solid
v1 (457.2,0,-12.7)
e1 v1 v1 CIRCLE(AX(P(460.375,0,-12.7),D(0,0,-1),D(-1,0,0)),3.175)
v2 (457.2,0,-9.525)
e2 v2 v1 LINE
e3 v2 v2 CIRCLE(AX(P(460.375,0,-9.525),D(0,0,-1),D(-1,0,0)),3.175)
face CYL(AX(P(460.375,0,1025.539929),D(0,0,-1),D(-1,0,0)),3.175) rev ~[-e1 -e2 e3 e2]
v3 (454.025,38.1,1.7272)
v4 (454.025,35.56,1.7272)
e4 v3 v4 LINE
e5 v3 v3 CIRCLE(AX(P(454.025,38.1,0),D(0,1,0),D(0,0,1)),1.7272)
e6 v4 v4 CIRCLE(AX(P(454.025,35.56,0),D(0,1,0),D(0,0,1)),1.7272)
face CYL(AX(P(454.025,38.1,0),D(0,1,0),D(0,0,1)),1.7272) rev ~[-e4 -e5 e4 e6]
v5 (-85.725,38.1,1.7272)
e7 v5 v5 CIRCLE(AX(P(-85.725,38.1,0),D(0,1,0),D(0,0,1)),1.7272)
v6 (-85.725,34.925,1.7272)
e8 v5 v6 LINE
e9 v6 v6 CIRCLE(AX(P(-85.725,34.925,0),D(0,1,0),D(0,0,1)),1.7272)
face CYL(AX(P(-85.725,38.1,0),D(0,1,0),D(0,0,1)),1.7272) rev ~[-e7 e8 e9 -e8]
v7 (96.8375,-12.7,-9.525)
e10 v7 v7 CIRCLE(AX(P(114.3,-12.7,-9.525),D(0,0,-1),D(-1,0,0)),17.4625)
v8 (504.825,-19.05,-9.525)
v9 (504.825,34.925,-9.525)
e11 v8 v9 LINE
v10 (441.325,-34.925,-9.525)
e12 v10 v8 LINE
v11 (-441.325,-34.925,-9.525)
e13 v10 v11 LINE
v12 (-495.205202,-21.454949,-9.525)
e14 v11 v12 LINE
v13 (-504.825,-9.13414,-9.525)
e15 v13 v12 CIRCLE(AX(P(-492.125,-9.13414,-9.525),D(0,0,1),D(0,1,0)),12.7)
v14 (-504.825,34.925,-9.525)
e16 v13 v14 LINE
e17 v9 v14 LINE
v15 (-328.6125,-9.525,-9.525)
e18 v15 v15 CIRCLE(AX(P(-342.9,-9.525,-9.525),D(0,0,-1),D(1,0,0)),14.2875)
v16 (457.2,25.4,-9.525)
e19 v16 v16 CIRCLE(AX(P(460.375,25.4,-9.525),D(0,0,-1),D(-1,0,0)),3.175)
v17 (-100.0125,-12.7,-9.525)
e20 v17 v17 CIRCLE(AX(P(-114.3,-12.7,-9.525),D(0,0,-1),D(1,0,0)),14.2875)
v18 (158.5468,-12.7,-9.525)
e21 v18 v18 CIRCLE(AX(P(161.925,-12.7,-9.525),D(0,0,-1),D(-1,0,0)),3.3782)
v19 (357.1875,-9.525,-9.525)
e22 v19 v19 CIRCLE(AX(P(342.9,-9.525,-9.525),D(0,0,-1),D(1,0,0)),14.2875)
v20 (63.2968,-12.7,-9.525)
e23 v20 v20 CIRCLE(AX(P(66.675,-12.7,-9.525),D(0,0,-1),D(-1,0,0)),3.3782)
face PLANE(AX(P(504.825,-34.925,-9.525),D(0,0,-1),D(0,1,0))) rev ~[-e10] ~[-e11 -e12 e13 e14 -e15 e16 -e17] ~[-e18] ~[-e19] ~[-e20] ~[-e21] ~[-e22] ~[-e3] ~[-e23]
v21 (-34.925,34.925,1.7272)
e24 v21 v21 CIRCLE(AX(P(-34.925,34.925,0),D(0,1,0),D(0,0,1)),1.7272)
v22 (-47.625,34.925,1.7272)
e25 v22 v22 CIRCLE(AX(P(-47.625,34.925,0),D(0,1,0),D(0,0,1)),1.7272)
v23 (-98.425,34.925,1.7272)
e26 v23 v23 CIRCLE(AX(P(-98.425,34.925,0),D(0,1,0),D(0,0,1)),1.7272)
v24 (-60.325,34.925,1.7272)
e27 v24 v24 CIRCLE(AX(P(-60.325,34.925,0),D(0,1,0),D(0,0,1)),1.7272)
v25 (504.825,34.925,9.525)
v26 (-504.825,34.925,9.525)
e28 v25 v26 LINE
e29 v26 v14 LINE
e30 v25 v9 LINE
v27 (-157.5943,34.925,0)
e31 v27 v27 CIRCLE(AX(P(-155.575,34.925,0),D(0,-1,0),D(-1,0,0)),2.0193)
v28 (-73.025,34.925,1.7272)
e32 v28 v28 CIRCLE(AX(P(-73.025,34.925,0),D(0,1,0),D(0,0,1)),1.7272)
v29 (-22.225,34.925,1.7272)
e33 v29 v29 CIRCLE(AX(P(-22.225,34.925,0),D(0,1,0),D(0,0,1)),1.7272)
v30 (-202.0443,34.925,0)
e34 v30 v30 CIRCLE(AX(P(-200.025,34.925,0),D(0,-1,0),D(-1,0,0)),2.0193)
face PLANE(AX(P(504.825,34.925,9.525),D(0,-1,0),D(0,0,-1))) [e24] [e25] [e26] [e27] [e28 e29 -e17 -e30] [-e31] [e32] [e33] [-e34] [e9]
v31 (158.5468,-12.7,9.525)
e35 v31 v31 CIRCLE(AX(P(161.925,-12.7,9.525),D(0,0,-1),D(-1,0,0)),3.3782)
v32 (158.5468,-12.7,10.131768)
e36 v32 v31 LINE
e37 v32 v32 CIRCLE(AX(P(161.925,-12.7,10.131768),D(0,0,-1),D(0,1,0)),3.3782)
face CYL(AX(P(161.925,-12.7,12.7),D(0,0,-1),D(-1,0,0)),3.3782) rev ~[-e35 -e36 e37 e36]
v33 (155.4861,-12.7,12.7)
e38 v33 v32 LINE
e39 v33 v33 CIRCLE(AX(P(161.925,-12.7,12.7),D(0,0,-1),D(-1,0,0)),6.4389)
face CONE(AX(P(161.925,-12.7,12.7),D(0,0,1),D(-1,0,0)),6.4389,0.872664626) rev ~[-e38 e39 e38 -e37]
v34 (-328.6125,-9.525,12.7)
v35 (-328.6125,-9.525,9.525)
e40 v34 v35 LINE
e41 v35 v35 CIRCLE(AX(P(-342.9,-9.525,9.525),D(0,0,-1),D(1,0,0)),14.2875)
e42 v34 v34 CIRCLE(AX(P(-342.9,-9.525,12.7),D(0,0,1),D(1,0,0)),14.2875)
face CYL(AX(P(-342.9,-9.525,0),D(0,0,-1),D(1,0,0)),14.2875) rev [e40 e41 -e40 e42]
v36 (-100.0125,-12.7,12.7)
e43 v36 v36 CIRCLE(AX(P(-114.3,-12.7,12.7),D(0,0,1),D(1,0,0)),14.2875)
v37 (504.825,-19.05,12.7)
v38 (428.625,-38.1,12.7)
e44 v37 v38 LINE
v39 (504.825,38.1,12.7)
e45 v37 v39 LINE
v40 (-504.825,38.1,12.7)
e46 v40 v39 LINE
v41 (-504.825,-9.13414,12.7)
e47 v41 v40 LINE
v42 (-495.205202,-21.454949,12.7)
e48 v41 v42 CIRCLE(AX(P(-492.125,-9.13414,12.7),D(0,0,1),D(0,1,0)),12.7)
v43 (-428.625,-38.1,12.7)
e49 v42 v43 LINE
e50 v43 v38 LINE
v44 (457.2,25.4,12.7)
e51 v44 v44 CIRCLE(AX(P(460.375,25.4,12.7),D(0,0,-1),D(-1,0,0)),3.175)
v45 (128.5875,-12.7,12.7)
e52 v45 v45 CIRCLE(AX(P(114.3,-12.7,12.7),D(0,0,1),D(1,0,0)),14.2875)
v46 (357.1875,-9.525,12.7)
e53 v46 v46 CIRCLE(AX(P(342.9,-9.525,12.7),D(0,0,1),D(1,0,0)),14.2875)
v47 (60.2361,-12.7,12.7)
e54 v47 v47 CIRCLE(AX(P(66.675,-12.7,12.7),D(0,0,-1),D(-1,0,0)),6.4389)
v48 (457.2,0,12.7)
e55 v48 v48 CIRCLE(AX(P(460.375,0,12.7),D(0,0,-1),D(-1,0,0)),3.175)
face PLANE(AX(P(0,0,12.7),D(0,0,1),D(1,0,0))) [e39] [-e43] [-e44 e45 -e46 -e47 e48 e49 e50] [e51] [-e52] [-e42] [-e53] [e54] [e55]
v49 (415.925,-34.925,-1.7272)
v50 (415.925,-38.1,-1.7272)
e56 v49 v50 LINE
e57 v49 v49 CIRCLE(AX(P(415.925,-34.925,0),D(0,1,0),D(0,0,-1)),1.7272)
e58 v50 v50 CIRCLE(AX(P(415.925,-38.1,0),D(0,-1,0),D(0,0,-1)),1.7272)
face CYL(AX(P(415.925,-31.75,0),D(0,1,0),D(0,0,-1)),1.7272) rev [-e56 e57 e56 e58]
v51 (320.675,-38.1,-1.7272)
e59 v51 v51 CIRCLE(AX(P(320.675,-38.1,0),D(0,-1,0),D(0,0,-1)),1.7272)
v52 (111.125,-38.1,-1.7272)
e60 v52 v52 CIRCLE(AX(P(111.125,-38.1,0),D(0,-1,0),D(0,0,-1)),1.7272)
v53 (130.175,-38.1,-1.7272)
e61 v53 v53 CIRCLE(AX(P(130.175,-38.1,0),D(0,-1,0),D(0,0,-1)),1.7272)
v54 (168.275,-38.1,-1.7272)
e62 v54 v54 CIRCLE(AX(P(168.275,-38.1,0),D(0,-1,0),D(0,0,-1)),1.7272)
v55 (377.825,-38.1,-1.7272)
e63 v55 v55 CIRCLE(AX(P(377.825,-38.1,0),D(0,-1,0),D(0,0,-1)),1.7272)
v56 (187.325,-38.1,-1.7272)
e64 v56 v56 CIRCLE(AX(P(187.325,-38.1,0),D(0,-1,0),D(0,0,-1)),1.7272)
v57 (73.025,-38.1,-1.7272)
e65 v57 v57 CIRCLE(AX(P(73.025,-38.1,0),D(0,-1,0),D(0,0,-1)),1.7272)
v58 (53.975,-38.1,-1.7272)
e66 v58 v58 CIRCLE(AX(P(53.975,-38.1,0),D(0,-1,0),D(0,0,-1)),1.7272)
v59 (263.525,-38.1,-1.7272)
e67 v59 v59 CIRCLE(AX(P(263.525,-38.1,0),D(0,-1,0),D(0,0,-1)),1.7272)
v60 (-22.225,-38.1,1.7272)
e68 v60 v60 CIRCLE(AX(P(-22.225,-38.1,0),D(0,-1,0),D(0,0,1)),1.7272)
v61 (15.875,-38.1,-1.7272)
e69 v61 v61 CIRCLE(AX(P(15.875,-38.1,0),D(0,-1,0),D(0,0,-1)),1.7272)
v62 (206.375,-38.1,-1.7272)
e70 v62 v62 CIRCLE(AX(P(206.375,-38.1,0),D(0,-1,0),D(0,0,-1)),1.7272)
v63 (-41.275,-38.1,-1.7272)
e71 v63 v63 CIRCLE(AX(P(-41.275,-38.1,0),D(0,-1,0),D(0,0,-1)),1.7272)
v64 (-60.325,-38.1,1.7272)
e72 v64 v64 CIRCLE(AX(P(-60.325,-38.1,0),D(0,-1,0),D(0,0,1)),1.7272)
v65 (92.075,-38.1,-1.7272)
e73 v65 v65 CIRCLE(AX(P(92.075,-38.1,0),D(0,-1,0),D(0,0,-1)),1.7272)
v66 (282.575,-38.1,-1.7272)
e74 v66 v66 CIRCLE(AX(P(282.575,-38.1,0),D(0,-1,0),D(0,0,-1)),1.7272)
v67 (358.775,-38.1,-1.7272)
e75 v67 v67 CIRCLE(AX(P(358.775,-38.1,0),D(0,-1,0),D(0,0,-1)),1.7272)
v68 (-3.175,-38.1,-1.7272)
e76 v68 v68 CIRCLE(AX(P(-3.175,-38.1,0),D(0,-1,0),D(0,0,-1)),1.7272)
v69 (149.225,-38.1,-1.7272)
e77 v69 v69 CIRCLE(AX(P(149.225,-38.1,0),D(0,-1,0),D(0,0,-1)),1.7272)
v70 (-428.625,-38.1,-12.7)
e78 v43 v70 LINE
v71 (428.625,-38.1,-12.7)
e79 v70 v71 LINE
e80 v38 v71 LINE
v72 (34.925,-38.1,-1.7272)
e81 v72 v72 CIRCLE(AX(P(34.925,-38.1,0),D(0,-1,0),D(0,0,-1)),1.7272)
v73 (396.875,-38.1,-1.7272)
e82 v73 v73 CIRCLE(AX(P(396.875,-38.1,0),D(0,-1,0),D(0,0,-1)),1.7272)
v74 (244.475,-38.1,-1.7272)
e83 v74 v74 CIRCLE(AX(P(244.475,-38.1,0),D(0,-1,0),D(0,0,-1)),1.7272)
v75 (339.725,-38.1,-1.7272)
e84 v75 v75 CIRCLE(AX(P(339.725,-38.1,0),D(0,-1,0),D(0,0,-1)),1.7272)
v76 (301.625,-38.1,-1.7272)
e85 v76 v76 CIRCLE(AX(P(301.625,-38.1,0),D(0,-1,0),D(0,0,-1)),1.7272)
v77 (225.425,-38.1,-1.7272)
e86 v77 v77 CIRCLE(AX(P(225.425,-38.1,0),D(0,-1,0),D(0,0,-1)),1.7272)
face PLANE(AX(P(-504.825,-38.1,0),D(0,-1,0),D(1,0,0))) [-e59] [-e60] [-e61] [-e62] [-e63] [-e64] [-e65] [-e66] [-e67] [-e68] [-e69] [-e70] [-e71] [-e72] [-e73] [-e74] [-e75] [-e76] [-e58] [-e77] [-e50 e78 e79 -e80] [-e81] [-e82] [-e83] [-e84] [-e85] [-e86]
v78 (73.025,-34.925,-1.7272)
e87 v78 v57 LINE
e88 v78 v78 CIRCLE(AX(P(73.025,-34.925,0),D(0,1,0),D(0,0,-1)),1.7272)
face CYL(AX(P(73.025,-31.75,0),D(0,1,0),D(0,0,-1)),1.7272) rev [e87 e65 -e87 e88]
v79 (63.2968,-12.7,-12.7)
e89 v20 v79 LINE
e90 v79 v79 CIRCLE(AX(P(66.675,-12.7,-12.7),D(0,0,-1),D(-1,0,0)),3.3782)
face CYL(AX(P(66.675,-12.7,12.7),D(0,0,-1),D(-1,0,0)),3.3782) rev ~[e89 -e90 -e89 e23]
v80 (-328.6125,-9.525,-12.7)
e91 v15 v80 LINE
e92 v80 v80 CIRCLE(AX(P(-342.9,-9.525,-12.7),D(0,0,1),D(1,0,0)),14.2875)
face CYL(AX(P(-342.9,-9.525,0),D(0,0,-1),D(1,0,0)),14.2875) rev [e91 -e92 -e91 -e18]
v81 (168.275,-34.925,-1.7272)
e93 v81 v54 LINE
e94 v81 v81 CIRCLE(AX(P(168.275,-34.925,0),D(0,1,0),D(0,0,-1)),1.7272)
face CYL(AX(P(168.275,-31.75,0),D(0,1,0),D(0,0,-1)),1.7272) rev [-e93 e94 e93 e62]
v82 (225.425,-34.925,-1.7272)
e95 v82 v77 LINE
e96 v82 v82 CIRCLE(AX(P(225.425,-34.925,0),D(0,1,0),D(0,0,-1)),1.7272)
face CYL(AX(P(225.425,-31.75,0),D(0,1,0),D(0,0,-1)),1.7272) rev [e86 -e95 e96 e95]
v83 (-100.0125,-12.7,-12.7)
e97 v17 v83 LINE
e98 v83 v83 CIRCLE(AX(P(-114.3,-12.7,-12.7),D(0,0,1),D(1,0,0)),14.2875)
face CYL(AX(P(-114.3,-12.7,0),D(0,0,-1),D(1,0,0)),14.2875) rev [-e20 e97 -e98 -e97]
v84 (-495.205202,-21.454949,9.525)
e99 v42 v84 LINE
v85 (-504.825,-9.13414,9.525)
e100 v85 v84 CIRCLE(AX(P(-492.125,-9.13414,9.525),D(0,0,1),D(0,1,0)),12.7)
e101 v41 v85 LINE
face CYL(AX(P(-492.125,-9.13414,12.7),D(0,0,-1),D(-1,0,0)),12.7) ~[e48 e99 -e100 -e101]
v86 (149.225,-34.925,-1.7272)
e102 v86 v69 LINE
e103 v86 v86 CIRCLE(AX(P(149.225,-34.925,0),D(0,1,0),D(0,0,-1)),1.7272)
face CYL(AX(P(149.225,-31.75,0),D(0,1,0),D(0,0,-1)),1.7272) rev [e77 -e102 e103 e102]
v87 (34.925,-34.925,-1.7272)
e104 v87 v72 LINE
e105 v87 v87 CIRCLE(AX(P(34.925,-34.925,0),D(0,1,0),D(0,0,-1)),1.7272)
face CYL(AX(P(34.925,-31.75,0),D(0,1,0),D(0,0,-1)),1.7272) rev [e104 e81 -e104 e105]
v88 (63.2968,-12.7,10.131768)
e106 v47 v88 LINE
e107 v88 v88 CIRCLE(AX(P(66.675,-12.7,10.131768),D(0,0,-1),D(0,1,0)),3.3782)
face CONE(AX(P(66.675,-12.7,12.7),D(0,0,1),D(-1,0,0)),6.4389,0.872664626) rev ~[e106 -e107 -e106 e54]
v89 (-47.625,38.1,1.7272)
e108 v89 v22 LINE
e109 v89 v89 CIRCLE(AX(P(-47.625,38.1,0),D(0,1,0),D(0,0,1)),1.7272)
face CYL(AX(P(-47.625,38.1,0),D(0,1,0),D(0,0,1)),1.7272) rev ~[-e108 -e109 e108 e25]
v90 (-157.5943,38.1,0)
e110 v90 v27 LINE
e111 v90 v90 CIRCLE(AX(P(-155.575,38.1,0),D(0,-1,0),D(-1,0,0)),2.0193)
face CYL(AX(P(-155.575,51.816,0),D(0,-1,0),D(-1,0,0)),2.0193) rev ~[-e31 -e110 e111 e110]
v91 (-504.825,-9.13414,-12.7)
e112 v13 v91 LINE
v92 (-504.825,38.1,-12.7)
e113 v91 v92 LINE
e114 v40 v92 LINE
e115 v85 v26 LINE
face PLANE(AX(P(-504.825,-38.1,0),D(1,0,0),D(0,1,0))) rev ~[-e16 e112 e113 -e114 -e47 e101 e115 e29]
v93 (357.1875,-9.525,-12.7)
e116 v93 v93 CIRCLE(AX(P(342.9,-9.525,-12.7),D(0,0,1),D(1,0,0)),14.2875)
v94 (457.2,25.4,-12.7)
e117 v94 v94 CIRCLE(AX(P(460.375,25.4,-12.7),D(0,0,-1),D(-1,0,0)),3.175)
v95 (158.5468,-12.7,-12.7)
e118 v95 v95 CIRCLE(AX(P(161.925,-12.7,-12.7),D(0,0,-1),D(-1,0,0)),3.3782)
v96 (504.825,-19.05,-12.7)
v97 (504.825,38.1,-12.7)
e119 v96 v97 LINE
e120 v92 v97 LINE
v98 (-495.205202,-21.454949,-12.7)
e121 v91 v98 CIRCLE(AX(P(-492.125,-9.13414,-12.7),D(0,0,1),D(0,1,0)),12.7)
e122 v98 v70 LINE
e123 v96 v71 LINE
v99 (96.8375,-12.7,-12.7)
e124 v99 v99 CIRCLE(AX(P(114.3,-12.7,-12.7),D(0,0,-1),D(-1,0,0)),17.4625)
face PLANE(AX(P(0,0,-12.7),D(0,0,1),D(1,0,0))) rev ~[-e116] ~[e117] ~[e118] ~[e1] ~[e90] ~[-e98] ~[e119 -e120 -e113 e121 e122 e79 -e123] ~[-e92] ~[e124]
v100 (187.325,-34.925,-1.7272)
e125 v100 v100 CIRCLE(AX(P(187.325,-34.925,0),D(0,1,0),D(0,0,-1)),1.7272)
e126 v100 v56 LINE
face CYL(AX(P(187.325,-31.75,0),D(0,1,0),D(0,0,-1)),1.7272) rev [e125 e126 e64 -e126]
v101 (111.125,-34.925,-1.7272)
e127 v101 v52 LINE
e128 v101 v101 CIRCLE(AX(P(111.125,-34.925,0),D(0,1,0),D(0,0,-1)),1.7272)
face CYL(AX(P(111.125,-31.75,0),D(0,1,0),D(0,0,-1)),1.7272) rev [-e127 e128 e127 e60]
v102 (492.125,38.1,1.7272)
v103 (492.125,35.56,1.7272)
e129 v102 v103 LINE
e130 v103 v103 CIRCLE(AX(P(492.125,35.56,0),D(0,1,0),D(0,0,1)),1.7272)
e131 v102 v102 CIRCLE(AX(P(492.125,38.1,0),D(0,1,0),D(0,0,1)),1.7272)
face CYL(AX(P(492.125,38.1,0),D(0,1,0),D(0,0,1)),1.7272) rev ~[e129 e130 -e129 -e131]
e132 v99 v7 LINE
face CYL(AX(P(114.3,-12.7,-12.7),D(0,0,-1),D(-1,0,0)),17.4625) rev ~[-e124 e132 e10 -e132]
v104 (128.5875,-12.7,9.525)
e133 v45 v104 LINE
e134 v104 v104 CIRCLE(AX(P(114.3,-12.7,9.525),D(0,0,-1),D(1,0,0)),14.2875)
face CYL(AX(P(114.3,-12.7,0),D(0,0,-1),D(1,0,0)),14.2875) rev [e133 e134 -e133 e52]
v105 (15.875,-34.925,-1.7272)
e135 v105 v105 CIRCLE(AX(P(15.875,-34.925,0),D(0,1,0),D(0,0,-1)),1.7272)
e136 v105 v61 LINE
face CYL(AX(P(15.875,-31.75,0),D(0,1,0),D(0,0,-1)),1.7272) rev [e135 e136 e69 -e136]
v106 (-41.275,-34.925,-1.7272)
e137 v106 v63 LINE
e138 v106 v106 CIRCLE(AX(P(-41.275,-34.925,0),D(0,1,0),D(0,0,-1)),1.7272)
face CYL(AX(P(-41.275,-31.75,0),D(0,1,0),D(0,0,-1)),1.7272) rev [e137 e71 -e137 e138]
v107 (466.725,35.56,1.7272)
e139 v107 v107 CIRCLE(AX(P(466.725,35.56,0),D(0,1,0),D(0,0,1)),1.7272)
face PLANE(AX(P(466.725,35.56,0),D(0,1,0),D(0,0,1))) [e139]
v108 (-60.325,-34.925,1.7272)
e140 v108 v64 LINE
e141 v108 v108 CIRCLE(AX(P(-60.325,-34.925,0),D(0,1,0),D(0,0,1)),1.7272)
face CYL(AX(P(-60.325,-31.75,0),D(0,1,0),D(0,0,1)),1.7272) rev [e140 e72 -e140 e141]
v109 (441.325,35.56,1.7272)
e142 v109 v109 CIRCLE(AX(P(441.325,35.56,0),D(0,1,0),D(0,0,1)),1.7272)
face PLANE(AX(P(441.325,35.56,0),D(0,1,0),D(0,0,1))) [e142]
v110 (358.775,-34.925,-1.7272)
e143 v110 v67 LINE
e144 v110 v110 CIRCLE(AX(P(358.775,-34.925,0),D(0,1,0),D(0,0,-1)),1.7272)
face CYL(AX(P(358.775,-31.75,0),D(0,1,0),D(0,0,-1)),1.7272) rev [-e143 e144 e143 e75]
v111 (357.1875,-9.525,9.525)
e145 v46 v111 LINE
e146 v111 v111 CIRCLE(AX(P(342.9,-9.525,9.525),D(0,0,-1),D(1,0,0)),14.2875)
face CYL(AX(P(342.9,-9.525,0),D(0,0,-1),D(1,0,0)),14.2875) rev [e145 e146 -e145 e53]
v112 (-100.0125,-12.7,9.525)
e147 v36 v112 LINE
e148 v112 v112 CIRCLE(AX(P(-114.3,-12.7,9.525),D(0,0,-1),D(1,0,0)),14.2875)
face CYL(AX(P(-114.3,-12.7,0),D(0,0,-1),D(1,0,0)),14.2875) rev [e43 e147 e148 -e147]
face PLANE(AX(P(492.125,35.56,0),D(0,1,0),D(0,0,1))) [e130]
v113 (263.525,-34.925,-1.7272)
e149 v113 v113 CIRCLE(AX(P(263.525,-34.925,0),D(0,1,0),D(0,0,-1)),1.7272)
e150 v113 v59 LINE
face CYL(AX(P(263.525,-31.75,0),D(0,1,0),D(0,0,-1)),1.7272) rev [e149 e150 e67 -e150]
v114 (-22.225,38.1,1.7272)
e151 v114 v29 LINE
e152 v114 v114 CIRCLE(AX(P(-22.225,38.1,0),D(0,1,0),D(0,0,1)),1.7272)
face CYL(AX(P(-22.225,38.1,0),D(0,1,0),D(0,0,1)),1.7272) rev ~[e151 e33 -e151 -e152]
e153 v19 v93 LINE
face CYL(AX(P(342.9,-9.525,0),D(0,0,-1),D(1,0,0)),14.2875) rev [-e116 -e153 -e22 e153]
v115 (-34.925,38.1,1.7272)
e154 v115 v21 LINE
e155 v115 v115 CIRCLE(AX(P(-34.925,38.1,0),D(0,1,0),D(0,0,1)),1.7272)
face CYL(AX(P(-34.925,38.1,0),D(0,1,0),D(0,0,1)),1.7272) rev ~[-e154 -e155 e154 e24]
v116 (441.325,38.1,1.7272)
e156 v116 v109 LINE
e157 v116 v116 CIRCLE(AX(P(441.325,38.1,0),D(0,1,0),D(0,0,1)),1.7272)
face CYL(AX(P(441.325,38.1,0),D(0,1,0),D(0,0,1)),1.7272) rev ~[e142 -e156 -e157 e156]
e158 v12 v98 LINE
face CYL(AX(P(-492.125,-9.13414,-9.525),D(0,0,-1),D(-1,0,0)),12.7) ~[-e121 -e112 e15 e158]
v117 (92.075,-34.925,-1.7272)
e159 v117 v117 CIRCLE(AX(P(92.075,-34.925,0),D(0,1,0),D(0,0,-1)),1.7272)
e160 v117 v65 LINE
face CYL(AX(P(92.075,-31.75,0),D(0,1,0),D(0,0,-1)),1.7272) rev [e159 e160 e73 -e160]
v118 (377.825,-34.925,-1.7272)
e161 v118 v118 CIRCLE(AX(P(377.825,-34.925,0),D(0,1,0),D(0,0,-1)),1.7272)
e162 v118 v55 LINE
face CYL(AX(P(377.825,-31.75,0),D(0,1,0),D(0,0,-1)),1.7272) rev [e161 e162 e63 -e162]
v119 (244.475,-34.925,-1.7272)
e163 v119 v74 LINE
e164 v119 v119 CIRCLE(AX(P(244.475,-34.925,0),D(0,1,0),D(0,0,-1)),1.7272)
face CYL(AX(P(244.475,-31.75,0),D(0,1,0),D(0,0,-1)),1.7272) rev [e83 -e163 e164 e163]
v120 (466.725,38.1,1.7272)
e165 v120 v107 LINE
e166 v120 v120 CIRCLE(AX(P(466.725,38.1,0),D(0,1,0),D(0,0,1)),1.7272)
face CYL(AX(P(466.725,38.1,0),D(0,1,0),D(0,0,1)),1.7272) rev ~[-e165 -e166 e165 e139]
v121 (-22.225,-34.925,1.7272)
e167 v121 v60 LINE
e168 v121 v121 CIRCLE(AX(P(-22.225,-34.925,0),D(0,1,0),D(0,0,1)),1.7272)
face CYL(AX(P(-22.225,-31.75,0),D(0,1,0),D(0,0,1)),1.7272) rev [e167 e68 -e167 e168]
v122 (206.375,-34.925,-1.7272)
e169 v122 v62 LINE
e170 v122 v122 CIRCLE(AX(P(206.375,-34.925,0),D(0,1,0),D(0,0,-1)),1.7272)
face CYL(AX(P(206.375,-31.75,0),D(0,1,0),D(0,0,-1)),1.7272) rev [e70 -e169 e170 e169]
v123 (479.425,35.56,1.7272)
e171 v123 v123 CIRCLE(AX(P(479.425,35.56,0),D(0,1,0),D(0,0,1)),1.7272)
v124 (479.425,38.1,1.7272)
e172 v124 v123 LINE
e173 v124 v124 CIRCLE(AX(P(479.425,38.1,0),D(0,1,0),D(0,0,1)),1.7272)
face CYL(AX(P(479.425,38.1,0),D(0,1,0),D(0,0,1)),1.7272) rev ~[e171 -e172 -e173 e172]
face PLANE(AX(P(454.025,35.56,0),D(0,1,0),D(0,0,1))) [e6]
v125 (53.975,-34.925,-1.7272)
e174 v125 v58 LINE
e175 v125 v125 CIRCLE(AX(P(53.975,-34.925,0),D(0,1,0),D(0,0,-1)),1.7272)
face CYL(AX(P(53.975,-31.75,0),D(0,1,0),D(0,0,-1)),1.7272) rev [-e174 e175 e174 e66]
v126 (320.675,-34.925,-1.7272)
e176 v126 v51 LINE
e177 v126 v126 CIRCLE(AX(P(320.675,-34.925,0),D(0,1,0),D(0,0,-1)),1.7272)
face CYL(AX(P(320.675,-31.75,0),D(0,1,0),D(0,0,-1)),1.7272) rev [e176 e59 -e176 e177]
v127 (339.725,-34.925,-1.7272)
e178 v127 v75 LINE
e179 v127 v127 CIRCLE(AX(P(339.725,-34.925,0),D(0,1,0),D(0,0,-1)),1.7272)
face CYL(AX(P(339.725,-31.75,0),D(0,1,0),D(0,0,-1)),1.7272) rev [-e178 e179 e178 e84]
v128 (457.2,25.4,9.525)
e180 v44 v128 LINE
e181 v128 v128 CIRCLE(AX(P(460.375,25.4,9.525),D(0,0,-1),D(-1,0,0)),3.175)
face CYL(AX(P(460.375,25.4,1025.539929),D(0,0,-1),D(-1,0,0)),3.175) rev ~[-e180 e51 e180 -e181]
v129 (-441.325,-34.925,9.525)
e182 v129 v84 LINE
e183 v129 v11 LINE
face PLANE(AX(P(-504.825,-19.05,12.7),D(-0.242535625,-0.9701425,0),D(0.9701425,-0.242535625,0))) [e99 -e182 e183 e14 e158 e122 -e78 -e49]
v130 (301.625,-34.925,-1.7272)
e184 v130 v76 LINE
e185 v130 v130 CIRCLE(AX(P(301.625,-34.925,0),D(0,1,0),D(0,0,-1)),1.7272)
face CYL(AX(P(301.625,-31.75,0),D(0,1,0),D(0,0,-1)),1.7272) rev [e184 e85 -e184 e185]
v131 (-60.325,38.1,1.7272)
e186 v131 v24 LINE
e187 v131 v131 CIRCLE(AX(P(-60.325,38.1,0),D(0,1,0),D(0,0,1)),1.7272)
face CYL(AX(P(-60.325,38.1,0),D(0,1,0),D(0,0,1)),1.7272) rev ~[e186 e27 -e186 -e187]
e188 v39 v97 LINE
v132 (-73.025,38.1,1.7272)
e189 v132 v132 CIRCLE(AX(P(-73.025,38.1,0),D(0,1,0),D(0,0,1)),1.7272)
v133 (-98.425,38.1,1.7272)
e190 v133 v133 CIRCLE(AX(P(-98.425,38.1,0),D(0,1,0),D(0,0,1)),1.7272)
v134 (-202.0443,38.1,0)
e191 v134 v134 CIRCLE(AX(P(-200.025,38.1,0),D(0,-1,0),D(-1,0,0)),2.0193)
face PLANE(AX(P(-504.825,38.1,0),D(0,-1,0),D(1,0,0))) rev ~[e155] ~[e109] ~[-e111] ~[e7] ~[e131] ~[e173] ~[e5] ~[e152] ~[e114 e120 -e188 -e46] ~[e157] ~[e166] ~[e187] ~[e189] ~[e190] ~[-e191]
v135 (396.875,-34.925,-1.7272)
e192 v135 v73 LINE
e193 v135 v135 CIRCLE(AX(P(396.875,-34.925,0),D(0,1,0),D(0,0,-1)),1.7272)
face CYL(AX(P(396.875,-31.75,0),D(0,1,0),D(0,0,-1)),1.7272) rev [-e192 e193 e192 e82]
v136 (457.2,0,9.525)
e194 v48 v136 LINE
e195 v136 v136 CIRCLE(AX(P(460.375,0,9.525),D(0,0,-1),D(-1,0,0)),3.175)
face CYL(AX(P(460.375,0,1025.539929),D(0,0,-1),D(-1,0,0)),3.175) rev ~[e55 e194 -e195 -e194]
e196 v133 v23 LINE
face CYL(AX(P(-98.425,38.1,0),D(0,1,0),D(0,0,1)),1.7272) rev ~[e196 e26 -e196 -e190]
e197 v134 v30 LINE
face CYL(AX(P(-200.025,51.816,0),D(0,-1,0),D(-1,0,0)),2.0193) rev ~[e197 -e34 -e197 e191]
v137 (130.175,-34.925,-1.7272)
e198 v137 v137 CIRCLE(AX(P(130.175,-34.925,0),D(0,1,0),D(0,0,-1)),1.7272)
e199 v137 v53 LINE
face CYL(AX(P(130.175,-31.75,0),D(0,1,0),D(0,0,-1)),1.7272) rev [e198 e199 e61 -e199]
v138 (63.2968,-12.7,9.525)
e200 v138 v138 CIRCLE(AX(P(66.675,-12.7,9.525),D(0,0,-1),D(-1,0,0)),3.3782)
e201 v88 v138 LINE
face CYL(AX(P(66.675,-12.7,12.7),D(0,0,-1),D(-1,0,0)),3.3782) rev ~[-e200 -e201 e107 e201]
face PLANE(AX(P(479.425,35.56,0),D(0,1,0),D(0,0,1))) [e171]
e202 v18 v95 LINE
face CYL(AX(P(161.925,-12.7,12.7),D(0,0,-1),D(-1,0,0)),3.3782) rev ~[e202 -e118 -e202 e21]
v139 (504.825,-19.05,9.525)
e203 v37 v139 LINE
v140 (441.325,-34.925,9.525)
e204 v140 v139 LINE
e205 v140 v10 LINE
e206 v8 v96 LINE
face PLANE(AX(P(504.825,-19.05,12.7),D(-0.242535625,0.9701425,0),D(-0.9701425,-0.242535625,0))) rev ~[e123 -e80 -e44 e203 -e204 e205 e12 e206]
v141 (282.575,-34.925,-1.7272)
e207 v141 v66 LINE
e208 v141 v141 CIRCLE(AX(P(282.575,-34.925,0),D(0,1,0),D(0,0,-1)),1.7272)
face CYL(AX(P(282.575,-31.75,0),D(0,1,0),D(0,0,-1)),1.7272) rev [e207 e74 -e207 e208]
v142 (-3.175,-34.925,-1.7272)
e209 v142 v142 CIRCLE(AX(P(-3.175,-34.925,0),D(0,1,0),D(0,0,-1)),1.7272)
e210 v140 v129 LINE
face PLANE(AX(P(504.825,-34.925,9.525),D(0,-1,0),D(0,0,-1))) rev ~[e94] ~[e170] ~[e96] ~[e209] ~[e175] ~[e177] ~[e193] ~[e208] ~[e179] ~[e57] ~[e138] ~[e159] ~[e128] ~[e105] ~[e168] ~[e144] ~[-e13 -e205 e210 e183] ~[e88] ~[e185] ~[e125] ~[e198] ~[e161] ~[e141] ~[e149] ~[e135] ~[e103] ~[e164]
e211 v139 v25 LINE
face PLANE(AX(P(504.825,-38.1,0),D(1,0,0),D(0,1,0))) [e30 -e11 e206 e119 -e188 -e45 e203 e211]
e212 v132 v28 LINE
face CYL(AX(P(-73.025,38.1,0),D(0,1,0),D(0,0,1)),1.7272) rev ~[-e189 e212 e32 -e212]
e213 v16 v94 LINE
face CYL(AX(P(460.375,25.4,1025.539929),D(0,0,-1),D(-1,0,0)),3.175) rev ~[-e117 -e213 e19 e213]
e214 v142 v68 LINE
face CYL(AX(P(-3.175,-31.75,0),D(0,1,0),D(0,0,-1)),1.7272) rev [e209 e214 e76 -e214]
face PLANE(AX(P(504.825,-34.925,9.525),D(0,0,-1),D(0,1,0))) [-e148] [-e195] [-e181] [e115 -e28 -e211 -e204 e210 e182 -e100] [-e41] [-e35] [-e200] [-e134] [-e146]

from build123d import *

# Parameters (mm, degrees)
SKETCH1_W                                           = 1009.65
SKETCH1_H                                           = 76.2
SKETCH1_R                                           = 14.2875
BOSS_EXTRUDE2_DEPTH                                 = 12.7
SKETCH3_W                                           = 19.05
SKETCH3_H                                           = 69.85
CUT_EXTRUDE2_DEPTH                                  = 1011.448426442
CUT_EXTRUDE3_DEPTH                                  = 507.897475457
FILLET1_R                                           = 12.7
SKETCH9_R                                           = 1.7272
CUT_EXTRUDE4_DEPTH                                  = 2.54
SKETCH12_R                                          = 1.7272
CUT_EXTRUDE7_DEPTH                                  = 5.08
CSK_FOR_1_4_FLAT_HEAD_MACHINE_SCREW_100_D           = 6.7564
CSK_FOR_1_4_FLAT_HEAD_MACHINE_SCREW_100_CSINK_D     = 12.8778
CSK_FOR_1_4_FLAT_HEAD_MACHINE_SCREW_100_CSINK_ANGLE = 100
CUT_EXTRUDE8_START                                  = -6.35
SKETCH17_R                                          = 1.7272
CUT_EXTRUDE8_DEPTH                                  = 6.35
SKETCH18_R                                          = 17.4625
CUT_EXTRUDE9_DEPTH                                  = 3.81
F_1_4_0_25_DIAMETER_HOLE1_D                         = 6.35
F_10_32_TAPPED_HOLE1_D                              = 4.0386
F_10_32_TAPPED_HOLE1_DEPTH                          = 13.716
F_10_32_TAPPED_HOLE1_TIP                            = 1.213317848


with BuildPart() as part:
    # Sketch1 → Boss-Extrude2 (new, symmetric)
    with BuildSketch(Plane.XY):
        Rectangle(SKETCH1_W, SKETCH1_H)
        with Locations((-114.3, -12.7)):
            Circle(SKETCH1_R, mode=Mode.SUBTRACT)
        with Locations((114.3, -12.7)):
            Circle(SKETCH1_R, mode=Mode.SUBTRACT)
        with Locations((-342.9, -9.525)):
            Circle(SKETCH1_R, mode=Mode.SUBTRACT)
        with Locations((342.9, -9.525)):
            Circle(SKETCH1_R, mode=Mode.SUBTRACT)
    extrude(amount=BOSS_EXTRUDE2_DEPTH, both=True)

    # Sketch3 → Cut-Extrude2 (cut, through all)
    with BuildSketch(Plane(origin=(504.825, 0, 0), x_dir=(0, 0, -1), z_dir=(1, 0, 0))):
        Rectangle(SKETCH3_W, SKETCH3_H)
    extrude(amount=-CUT_EXTRUDE2_DEPTH, mode=Mode.SUBTRACT)

    # Sketch4 → Cut-Extrude3 (cut, through all)
    with BuildSketch(Plane.XY.offset(12.7)):
        Polygon((-504.825, -38.1), (-504.825, -19.05), (-428.625, -38.1), align=None)
        Polygon((428.625, -38.1), (504.825, -38.1), (504.825, -19.05), align=None)
    extrude(amount=-CUT_EXTRUDE3_DEPTH, mode=Mode.SUBTRACT)

    # Fillet1
    fillet1_edges = [part.edges().sort_by_distance(p)[0] for p in [
        (-504.825, -19.05, 11.1125),
        (-504.825, -19.05, -11.1125),
    ]]
    fillet(fillet1_edges, radius=FILLET1_R)

    # Sketch9 → Cut-Extrude4 (cut)
    with BuildSketch(Plane(origin=(0, 38.1, 0), x_dir=(1, 0, 0), z_dir=(0, 1, 0))):
        with Locations(Location((492.125, 0, 0), (0, 0, 270))):
            Circle(SKETCH9_R)
        with Locations(Location((479.425, 0, 0), (0, 0, 270))):
            Circle(SKETCH9_R)
        with Locations(Location((466.725, 0, 0), (0, 0, 270))):
            Circle(SKETCH9_R)
        with Locations(Location((454.025, 0, 0), (0, 0, 270))):
            Circle(SKETCH9_R)
        with Locations(Location((441.325, 0, 0), (0, 0, 270))):
            Circle(SKETCH9_R)
    extrude(amount=-CUT_EXTRUDE4_DEPTH, mode=Mode.SUBTRACT)

    # Sketch12 → Cut-Extrude7 (cut)
    with BuildSketch(Plane(origin=(0, 38.1, 0), x_dir=(1, 0, 0), z_dir=(0, 1, 0))):
        with Locations(Location((-98.425, 0, 0), (0, 0, 270))):
            Circle(SKETCH12_R)
        with Locations(Location((-85.725, 0, 0), (0, 0, 270))):
            Circle(SKETCH12_R)
        with Locations(Location((-73.025, 0, 0), (0, 0, 270))):
            Circle(SKETCH12_R)
        with Locations(Location((-60.325, 0, 0), (0, 0, 270))):
            Circle(SKETCH12_R)
        with Locations(Location((-47.625, 0, 0), (0, 0, 270))):
            Circle(SKETCH12_R)
        with Locations(Location((-34.925, 0, 0), (0, 0, 270))):
            Circle(SKETCH12_R)
        with Locations(Location((-22.225, 0, 0), (0, 0, 270))):
            Circle(SKETCH12_R)
    extrude(amount=-CUT_EXTRUDE7_DEPTH, mode=Mode.SUBTRACT)

    # CSK for 1/4 Flat Head Machine Screw (100)2 (through all)
    with Locations(Plane.XY.offset(12.7)):
        with Locations((66.675, -12.7), (161.925, -12.7)):
            CounterSinkHole(CSK_FOR_1_4_FLAT_HEAD_MACHINE_SCREW_100_D / 2, CSK_FOR_1_4_FLAT_HEAD_MACHINE_SCREW_100_CSINK_D / 2, counter_sink_angle=CSK_FOR_1_4_FLAT_HEAD_MACHINE_SCREW_100_CSINK_ANGLE)

    # Sketch17 → Cut-Extrude8 (cut)
    with BuildSketch(Plane(origin=(0, -38.1, 0), x_dir=(-1, 0, 0), z_dir=(0, -1, 0)).offset(CUT_EXTRUDE8_START)):
        with Locations(Location((-415.925, 0, 0), (0, 0, 90))):
            Circle(SKETCH17_R)
        with Locations(Location((-396.875, 0, 0), (0, 0, 90))):
            Circle(SKETCH17_R)
        with Locations(Location((-377.825, 0, 0), (0, 0, 90))):
            Circle(SKETCH17_R)
        with Locations(Location((-358.775, 0, 0), (0, 0, 90))):
            Circle(SKETCH17_R)
        with Locations(Location((-339.725, 0, 0), (0, 0, 90))):
            Circle(SKETCH17_R)
        with Locations(Location((-320.675, 0, 0), (0, 0, 90))):
            Circle(SKETCH17_R)
        with Locations(Location((-301.625, 0, 0), (0, 0, 90))):
            Circle(SKETCH17_R)
        with Locations(Location((-282.575, 0, 0), (0, 0, 90))):
            Circle(SKETCH17_R)
        with Locations(Location((-263.525, 0, 0), (0, 0, 90))):
            Circle(SKETCH17_R)
        with Locations(Location((-244.475, 0, 0), (0, 0, 90))):
            Circle(SKETCH17_R)
        with Locations(Location((-225.425, 0, 0), (0, 0, 90))):
            Circle(SKETCH17_R)
        with Locations(Location((-206.375, 0, 0), (0, 0, 90))):
            Circle(SKETCH17_R)
        with Locations(Location((-187.325, 0, 0), (0, 0, 90))):
            Circle(SKETCH17_R)
        with Locations(Location((-168.275, 0, 0), (0, 0, 90))):
            Circle(SKETCH17_R)
        with Locations(Location((-149.225, 0, 0), (0, 0, 90))):
            Circle(SKETCH17_R)
        with Locations(Location((-130.175, 0, 0), (0, 0, 90))):
            Circle(SKETCH17_R)
        with Locations(Location((-111.125, 0, 0), (0, 0, 90))):
            Circle(SKETCH17_R)
        with Locations(Location((-92.075, 0, 0), (0, 0, 90))):
            Circle(SKETCH17_R)
        with Locations(Location((-73.025, 0, 0), (0, 0, 90))):
            Circle(SKETCH17_R)
        with Locations(Location((-53.975, 0, 0), (0, 0, 90))):
            Circle(SKETCH17_R)
        with Locations(Location((-34.925, 0, 0), (0, 0, 90))):
            Circle(SKETCH17_R)
        with Locations(Location((-15.875, 0, 0), (0, 0, 90))):
            Circle(SKETCH17_R)
        with Locations(Location((3.175, 0, 0), (0, 0, 90))):
            Circle(SKETCH17_R)
        with Locations(Location((22.225, 0, 0), (0, 0, 270))):
            Circle(SKETCH17_R)
        with Locations(Location((41.275, 0, 0), (0, 0, 90))):
            Circle(SKETCH17_R)
        with Locations(Location((60.325, 0, 0), (0, 0, 270))):
            Circle(SKETCH17_R)
    extrude(amount=CUT_EXTRUDE8_DEPTH, mode=Mode.SUBTRACT)

    # Sketch18 → Cut-Extrude9 (cut)
    with BuildSketch(Plane(origin=(0, 0, -12.7), x_dir=(-1, 0, 0), z_dir=(0, 0, -1))):
        with Locations((-114.3, -12.7)):
            Circle(SKETCH18_R)
    extrude(amount=-CUT_EXTRUDE9_DEPTH, mode=Mode.SUBTRACT)

    # 1/4 (0.25) Diameter Hole1 (through all)
    with Locations(Plane.XY.offset(12.7)):
        with Locations((460.375, 25.4), (460.375, 0)):
            Hole(F_1_4_0_25_DIAMETER_HOLE1_D / 2)

    # #10-32 Tapped Hole1
    with Locations(Plane(origin=(0, 38.1, 0), x_dir=(1, 0, 0), z_dir=(0, 1, 0))):
        with Locations((-155.575, 0), (-200.025, 0)):
            Hole(F_10_32_TAPPED_HOLE1_D / 2, depth=F_10_32_TAPPED_HOLE1_DEPTH)
            with Locations((0, 0, -(F_10_32_TAPPED_HOLE1_DEPTH + F_10_32_TAPPED_HOLE1_TIP / 2))):  # 118° drill point
                Cone(0, F_10_32_TAPPED_HOLE1_D / 2, F_10_32_TAPPED_HOLE1_TIP, mode=Mode.SUBTRACT)


solid = part.part
